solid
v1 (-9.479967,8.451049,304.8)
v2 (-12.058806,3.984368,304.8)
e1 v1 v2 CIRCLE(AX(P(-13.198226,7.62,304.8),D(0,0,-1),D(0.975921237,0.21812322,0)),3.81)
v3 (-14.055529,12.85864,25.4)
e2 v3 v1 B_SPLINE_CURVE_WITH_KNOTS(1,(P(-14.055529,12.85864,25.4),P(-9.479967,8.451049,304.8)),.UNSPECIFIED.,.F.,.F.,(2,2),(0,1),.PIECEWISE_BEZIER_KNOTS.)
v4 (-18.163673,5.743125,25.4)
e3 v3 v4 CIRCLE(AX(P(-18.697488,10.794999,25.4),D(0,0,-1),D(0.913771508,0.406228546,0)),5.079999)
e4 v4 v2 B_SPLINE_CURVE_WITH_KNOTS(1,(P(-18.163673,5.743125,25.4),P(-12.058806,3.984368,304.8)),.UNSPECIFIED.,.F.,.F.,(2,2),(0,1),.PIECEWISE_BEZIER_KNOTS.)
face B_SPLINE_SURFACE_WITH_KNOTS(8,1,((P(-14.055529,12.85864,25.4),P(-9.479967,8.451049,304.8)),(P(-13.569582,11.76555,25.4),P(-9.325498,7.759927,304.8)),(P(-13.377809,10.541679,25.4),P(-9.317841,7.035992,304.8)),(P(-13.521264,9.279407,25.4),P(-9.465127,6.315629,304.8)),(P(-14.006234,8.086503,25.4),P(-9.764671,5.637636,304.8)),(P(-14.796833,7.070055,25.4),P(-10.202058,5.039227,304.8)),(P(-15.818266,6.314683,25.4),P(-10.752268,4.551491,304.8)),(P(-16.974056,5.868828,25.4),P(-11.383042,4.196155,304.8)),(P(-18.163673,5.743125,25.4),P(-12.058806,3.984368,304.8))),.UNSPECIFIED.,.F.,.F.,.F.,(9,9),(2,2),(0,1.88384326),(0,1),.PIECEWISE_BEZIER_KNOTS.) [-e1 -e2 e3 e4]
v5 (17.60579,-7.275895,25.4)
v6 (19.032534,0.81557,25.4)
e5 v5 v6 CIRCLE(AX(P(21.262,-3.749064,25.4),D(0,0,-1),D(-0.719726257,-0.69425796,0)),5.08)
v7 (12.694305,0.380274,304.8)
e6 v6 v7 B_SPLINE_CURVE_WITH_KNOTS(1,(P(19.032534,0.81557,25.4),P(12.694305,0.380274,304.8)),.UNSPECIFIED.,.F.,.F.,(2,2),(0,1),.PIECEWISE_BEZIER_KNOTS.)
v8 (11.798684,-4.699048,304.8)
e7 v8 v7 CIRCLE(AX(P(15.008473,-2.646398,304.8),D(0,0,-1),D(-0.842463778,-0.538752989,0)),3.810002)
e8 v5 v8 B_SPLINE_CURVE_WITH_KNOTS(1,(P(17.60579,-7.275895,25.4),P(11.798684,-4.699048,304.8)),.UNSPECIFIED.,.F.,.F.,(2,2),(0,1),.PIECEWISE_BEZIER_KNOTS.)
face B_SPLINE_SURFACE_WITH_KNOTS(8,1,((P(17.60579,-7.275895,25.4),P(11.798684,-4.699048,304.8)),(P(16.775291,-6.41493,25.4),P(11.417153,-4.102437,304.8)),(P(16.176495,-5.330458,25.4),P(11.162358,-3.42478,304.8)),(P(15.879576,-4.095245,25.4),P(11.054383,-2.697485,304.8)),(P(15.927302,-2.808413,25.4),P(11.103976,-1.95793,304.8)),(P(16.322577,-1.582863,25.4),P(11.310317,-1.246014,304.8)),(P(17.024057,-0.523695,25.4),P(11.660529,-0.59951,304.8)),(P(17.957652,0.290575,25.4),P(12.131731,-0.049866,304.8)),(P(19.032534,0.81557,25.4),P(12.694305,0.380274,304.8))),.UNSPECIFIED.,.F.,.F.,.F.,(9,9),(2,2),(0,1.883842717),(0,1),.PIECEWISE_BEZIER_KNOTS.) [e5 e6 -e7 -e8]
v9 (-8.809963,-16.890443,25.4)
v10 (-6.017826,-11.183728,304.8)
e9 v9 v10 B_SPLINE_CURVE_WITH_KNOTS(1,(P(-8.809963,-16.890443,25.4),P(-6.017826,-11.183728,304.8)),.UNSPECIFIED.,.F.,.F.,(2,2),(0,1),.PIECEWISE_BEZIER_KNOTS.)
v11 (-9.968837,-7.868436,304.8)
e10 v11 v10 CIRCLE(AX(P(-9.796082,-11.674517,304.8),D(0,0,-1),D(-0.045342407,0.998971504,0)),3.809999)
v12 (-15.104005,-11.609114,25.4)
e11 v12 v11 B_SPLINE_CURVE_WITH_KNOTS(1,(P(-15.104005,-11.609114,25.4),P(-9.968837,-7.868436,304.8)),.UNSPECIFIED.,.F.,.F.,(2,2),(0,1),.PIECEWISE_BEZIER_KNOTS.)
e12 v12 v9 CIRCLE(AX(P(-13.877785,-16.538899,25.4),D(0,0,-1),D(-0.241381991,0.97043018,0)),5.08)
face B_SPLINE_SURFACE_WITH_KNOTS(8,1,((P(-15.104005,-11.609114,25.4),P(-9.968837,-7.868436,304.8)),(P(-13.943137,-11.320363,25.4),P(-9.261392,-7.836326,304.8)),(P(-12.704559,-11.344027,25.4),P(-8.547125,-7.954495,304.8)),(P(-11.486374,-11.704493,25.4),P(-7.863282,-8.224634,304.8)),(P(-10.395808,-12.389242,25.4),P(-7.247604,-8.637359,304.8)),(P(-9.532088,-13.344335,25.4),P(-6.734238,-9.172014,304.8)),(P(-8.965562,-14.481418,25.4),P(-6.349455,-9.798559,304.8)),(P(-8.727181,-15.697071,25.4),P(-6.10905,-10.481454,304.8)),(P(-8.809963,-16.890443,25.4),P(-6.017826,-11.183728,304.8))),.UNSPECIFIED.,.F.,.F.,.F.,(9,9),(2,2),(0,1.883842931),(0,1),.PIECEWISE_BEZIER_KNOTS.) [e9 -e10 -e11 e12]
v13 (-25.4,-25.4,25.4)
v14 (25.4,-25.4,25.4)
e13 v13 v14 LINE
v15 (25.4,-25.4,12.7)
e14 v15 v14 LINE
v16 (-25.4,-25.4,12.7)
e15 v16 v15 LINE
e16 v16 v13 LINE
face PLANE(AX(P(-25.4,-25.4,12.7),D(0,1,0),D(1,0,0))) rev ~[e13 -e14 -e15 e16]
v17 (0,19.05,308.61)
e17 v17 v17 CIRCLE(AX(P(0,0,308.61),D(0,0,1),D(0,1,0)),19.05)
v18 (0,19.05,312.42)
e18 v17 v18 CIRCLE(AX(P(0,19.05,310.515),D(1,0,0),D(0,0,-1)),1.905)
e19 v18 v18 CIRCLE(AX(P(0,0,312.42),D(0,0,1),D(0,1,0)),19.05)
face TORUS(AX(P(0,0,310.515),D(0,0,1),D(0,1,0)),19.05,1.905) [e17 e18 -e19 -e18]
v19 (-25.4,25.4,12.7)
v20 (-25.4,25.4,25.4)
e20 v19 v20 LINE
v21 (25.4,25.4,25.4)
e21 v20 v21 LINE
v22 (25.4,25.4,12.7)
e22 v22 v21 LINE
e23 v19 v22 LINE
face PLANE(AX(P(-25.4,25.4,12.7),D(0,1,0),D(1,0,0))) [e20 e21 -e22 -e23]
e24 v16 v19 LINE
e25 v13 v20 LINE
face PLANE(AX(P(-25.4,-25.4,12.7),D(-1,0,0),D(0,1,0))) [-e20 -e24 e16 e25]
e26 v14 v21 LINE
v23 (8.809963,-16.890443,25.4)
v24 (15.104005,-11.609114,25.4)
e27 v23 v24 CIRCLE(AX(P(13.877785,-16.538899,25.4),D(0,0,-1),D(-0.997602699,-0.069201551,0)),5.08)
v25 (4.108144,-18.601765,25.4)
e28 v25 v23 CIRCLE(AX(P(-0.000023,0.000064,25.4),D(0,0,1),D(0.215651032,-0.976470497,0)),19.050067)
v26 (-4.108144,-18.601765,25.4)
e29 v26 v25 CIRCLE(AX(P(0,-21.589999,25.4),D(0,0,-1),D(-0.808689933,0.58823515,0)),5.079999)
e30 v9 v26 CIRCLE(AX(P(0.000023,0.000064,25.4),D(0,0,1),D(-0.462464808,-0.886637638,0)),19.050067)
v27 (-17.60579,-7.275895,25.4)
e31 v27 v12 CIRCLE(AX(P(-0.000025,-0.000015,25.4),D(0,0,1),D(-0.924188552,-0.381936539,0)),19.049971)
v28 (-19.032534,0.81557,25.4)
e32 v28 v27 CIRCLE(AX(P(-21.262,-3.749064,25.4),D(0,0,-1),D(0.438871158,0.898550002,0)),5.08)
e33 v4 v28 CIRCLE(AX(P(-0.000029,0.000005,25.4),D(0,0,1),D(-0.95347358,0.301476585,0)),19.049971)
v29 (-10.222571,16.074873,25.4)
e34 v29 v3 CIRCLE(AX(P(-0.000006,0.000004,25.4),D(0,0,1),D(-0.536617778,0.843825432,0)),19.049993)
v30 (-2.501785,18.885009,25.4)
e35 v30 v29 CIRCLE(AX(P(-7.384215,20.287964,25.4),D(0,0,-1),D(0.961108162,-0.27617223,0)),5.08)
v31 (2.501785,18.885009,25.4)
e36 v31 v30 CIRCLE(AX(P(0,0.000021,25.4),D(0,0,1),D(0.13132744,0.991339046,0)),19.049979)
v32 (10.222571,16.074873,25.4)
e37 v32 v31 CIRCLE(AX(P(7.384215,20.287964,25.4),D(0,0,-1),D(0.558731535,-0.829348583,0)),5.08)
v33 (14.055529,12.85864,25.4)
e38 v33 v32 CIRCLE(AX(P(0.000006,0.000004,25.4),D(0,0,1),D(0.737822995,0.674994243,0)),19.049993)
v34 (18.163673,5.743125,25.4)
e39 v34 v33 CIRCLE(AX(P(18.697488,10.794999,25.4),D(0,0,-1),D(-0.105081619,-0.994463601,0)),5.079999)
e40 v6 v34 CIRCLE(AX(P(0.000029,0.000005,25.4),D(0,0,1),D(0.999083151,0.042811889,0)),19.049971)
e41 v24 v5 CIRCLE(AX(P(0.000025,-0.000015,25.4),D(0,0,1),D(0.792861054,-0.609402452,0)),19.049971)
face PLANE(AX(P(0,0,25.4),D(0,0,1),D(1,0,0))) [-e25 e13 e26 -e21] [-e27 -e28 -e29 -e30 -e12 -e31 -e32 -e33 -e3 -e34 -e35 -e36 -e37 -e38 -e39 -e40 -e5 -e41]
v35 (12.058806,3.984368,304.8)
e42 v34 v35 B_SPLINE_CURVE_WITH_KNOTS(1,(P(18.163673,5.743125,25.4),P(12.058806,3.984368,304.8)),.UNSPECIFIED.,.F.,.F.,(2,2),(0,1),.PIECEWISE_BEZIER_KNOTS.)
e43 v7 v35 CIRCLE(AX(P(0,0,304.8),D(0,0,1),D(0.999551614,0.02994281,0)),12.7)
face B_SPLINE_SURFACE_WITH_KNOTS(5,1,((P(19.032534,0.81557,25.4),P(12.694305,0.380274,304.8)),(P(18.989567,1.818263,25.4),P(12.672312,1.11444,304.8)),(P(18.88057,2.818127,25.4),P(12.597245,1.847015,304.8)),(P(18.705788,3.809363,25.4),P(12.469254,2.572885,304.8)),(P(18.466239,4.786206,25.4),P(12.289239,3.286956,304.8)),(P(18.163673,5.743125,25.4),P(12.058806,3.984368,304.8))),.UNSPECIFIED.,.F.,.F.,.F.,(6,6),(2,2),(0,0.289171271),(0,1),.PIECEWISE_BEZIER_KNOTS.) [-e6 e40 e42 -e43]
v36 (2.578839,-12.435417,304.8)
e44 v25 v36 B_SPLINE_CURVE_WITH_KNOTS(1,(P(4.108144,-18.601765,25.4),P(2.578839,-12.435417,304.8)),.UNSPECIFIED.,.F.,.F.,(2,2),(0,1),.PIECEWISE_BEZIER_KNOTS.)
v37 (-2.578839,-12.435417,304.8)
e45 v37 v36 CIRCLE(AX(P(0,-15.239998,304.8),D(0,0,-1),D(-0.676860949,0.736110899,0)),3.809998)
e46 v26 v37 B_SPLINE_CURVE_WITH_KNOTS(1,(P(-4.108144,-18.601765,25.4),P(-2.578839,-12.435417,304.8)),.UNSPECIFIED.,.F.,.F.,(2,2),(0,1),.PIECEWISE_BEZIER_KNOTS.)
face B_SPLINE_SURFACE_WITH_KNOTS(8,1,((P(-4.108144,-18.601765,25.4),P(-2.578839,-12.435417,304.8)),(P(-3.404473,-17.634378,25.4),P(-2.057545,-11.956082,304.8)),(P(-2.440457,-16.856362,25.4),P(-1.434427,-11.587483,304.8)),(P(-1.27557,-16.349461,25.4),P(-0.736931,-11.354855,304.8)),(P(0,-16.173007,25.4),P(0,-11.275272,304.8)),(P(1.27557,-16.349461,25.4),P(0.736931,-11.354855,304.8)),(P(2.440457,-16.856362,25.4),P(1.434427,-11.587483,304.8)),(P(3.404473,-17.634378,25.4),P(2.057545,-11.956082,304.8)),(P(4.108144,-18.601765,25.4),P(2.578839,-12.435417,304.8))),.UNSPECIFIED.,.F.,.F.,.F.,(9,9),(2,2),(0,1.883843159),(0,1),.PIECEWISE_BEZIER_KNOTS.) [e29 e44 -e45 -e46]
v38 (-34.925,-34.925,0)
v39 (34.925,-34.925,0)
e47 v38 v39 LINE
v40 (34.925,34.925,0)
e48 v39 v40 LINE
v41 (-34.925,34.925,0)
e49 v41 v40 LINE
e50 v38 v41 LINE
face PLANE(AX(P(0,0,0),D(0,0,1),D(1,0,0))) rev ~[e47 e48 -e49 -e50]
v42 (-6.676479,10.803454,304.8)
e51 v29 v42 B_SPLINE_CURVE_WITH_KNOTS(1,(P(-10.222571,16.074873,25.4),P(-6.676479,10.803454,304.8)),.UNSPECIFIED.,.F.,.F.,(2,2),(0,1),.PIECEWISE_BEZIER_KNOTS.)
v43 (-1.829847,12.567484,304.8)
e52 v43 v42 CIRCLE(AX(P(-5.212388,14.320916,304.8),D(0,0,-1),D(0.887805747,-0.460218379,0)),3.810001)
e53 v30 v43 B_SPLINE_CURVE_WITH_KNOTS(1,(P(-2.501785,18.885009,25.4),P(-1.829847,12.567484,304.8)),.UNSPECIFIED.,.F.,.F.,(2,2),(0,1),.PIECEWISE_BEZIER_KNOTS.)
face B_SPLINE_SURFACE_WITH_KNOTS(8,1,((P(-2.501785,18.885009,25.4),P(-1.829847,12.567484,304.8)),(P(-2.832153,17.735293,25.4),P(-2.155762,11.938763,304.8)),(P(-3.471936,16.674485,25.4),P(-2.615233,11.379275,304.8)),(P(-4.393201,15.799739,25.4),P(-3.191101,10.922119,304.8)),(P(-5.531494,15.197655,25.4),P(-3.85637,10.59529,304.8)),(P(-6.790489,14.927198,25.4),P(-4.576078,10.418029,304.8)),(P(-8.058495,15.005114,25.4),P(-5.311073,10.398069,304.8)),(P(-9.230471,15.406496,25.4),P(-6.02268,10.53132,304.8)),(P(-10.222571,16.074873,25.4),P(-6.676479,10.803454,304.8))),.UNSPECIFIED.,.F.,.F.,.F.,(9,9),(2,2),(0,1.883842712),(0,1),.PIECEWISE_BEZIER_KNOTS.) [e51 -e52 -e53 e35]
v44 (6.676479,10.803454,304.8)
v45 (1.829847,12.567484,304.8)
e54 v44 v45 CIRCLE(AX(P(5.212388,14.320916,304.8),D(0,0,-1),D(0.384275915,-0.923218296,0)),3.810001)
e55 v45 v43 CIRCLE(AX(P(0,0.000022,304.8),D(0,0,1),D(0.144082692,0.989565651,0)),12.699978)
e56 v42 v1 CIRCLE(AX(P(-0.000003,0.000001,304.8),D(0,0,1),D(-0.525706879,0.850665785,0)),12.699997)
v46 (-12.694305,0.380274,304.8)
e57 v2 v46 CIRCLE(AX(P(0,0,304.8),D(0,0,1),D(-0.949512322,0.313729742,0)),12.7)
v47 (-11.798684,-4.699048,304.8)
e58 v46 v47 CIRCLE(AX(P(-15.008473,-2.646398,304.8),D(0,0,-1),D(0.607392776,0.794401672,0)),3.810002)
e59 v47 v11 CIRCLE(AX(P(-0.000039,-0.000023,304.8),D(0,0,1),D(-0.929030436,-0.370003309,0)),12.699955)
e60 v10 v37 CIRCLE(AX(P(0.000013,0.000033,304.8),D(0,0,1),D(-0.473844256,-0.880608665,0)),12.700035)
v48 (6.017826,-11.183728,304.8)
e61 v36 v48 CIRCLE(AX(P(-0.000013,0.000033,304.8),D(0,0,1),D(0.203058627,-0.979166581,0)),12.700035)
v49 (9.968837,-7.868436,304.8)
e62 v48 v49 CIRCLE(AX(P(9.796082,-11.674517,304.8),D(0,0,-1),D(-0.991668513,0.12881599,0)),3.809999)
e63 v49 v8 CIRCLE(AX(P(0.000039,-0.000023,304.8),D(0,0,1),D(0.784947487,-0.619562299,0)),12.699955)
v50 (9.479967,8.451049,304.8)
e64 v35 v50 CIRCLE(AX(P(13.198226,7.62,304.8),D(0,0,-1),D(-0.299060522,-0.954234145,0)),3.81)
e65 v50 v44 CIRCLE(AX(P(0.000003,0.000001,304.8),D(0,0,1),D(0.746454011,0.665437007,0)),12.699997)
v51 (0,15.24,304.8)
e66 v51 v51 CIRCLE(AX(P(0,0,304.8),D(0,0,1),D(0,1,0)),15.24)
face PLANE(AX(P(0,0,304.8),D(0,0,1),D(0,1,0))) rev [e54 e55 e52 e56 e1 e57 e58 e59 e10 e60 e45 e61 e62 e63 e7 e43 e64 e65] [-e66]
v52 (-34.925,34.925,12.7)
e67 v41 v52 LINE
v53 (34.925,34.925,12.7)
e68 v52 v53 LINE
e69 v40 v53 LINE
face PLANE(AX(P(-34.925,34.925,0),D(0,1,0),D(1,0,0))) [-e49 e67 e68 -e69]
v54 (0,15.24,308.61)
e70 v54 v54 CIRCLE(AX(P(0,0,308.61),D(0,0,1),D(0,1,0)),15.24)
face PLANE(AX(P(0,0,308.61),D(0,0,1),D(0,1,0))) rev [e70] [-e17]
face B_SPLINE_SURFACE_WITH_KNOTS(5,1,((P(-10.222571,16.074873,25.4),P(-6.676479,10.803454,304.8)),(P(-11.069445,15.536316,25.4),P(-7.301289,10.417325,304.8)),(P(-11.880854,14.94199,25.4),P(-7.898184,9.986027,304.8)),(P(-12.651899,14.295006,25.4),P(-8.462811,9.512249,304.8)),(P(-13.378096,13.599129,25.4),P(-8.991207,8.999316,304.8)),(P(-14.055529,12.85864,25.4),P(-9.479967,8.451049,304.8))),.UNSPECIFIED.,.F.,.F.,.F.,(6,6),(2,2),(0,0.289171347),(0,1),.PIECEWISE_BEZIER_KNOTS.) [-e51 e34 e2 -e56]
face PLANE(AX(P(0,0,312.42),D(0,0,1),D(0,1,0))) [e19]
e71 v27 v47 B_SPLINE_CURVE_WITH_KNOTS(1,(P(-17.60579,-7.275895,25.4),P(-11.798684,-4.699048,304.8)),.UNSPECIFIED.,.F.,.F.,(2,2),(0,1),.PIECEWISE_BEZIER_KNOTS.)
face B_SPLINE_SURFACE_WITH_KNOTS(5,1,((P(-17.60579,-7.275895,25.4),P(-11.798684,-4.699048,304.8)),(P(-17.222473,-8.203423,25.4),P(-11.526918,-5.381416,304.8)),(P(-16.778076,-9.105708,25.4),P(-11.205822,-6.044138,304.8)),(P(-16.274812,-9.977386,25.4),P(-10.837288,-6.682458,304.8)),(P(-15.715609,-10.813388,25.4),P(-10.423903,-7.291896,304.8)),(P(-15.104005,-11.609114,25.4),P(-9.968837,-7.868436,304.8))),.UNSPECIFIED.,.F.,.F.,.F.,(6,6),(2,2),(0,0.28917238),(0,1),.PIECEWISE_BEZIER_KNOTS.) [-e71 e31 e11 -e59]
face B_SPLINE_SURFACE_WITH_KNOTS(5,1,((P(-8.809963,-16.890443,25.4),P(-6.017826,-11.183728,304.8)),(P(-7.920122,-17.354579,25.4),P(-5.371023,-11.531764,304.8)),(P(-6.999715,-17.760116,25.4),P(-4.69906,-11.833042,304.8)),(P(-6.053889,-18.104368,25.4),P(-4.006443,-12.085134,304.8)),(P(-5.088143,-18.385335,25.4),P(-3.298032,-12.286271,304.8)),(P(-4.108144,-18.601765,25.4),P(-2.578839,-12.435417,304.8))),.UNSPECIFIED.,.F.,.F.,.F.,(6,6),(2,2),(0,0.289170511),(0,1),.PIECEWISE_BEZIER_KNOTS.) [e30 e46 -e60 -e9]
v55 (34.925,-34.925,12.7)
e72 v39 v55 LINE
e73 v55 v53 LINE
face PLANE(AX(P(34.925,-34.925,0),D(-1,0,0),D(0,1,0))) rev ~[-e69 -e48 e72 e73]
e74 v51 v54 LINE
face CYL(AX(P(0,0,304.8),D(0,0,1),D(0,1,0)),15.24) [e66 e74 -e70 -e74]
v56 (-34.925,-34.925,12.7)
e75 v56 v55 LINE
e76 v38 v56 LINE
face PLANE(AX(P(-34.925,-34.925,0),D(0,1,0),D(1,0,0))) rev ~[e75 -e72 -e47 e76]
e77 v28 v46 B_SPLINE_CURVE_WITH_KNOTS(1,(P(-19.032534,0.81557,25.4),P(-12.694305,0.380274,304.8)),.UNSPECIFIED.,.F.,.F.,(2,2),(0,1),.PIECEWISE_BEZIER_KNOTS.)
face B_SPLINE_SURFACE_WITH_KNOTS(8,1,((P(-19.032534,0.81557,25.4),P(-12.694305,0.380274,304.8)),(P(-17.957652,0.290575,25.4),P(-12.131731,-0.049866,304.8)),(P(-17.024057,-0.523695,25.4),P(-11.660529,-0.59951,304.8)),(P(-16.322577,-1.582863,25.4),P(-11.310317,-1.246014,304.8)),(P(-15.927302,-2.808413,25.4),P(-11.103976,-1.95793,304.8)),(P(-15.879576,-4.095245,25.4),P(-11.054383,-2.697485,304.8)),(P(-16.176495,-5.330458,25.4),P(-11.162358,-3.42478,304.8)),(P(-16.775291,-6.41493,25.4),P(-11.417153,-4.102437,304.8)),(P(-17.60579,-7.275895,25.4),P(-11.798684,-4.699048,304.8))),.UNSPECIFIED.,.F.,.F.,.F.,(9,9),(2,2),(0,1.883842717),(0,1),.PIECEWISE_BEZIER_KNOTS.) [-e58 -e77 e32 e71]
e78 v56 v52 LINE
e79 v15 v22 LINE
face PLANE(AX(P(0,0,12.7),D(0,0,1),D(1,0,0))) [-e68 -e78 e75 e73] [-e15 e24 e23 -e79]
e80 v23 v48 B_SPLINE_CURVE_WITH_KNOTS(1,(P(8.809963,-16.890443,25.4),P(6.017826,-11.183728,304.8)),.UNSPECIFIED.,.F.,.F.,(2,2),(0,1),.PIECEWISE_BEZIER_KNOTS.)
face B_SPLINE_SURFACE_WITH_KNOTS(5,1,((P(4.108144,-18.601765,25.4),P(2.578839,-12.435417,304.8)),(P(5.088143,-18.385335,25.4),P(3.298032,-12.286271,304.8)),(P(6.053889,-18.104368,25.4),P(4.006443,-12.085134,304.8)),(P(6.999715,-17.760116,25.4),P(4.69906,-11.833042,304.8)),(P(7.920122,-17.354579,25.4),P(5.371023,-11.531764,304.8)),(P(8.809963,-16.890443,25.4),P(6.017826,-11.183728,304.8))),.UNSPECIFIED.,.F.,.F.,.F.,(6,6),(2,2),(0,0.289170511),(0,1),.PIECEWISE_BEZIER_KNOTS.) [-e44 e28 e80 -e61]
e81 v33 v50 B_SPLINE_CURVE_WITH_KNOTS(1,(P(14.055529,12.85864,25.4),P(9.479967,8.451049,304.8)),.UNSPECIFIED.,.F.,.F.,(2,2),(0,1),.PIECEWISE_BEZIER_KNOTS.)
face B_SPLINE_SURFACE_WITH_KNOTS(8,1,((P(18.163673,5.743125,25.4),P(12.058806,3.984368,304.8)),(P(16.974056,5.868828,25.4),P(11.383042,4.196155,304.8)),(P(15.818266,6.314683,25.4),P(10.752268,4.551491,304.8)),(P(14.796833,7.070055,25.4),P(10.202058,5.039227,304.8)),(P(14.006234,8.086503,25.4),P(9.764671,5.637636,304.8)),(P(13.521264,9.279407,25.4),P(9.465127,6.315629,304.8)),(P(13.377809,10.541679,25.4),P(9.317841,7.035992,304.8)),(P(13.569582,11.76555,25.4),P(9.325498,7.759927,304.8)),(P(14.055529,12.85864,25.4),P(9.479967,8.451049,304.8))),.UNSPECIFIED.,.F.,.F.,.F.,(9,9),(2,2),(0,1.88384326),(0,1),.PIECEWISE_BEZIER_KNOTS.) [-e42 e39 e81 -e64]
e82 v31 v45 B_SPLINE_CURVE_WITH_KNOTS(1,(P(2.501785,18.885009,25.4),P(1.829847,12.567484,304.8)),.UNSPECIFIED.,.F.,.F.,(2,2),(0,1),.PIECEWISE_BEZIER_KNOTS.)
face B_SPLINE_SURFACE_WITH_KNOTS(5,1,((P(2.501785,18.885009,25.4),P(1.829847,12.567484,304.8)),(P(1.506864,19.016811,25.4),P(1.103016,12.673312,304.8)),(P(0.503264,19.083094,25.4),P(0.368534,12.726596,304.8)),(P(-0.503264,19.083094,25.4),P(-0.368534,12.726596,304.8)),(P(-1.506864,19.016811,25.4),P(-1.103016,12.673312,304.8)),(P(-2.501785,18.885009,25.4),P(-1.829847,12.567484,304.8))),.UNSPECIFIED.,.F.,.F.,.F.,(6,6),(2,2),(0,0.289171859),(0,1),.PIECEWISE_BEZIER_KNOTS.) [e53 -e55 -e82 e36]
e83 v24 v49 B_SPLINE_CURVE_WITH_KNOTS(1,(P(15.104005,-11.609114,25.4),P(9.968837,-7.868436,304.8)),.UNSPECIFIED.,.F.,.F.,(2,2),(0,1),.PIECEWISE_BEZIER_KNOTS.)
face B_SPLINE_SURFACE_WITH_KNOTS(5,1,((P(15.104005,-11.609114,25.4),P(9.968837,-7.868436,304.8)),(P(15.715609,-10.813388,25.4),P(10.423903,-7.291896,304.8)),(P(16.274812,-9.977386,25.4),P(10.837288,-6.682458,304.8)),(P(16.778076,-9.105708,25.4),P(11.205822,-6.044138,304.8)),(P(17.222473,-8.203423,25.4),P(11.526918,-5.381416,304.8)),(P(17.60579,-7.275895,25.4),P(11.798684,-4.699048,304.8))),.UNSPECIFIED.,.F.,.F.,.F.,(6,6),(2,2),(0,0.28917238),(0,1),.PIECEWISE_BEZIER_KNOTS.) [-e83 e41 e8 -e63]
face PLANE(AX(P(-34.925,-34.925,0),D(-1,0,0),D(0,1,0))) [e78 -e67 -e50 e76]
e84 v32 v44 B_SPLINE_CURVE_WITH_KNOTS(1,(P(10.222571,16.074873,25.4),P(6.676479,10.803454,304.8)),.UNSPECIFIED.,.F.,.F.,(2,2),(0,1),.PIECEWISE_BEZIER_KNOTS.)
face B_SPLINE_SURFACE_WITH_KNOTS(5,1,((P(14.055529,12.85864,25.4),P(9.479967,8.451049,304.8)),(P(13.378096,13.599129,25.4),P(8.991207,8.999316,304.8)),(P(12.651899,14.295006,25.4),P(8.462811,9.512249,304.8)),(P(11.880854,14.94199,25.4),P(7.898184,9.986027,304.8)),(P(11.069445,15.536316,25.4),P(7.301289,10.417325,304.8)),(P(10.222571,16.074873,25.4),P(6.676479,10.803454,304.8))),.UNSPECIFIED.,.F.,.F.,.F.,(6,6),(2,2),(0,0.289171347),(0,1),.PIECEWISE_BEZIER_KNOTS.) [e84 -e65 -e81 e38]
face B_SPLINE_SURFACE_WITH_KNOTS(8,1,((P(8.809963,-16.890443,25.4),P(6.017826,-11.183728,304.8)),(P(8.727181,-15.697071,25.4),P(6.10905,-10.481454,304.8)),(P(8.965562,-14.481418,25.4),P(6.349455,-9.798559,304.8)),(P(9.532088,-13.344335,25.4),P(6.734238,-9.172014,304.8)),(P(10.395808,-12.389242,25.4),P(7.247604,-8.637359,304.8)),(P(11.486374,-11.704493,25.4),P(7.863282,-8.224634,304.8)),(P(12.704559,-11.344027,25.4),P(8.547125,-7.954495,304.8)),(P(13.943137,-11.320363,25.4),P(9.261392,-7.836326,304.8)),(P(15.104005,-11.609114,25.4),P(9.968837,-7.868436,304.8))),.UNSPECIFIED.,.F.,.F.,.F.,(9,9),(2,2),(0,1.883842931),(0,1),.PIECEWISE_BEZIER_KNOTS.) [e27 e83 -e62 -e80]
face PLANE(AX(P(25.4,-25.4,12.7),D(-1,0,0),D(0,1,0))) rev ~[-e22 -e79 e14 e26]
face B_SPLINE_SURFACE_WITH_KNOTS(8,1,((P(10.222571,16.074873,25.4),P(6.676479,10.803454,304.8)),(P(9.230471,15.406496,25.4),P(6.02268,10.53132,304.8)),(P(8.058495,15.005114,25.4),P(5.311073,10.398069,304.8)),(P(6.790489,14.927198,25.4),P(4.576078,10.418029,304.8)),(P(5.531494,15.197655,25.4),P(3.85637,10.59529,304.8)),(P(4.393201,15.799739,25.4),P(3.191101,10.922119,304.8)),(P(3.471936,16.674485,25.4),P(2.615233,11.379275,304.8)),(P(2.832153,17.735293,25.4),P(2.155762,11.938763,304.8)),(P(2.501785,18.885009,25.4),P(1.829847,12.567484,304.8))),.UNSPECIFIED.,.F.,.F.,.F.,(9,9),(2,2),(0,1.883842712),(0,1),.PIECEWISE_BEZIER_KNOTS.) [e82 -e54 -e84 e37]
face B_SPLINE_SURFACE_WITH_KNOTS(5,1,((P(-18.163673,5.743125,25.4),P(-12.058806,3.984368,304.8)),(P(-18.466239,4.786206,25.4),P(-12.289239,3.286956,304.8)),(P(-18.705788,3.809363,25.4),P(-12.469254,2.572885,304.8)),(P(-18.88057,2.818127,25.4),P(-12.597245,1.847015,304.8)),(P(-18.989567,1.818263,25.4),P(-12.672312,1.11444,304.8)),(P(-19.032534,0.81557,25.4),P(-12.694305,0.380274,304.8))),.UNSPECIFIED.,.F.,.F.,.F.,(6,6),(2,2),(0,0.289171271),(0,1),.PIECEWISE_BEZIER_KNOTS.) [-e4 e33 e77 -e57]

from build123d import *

# Parameters (mm, degrees)
F0_W     = 69.85
F0_H     = 69.85
F1_DEPTH = 12.7
F2_W     = 50.8
F2_H     = 50.8
F3_DEPTH = 12.7
F8_W     = 3.81
F8_H     = 3.81


with BuildPart() as f1:
    # F0 (on Top) → F1 (new body)
    with BuildSketch(Plane.XY):
        Rectangle(F0_W, F0_H)
    extrude(amount=F1_DEPTH)

    # F2 (on face) → F3 (join)
    with BuildSketch(Plane.XY.offset(12.7)):
        Rectangle(F2_W, F2_H)
    extrude(amount=F3_DEPTH)

    # F5 (on face) → F7 section 0
    with BuildSketch(Plane.XY.offset(25.4)):
        with BuildLine():
            ThreePointArc((17.60579, -7.275895), (16.259176, -2.866931), (19.032534, 0.81557))
            ThreePointArc((19.032534, 0.81557), (18.760588, 3.307998), (18.163673, 5.743125))
            ThreePointArc((18.163673, 5.743125), (14.298079, 8.255), (14.055529, 12.85864))
            ThreePointArc((14.055529, 12.85864), (12.245104, 14.593147), (10.222571, 16.074873))
            ThreePointArc((10.222571, 16.074873), (5.646753, 15.514325), (2.501785, 18.885009))
            ThreePointArc((2.501785, 18.885009), (0, 19.05), (-2.501785, 18.885009))
            ThreePointArc((-2.501785, 18.885009), (-5.646753, 15.514325), (-10.222571, 16.074873))
            ThreePointArc((-10.222571, 16.074873), (-12.245104, 14.593147), (-14.055529, 12.85864))
            ThreePointArc((-14.055529, 12.85864), (-14.298079, 8.255), (-18.163673, 5.743125))
            ThreePointArc((-18.163673, 5.743125), (-18.760588, 3.307998), (-19.032534, 0.81557))
            ThreePointArc((-19.032534, 0.81557), (-16.259176, -2.866931), (-17.60579, -7.275895))
            ThreePointArc((-17.60579, -7.275895), (-16.497784, -9.525), (-15.104005, -11.609114))
            ThreePointArc((-15.104005, -11.609114), (-10.612423, -12.647394), (-8.809963, -16.890443))
            ThreePointArc((-8.809963, -16.890443), (-6.515484, -17.901144), (-4.108144, -18.601765))
            ThreePointArc((-4.108144, -18.601765), (0, -16.51), (4.108144, -18.601765))
            ThreePointArc((4.108144, -18.601765), (6.515484, -17.901144), (8.809963, -16.890443))
            ThreePointArc((8.809963, -16.890443), (10.612423, -12.647394), (15.104005, -11.609114))
            ThreePointArc((15.104005, -11.609114), (16.497784, -9.525), (17.60579, -7.275895))
        make_face()
    # F6 (on offset) → F7 section 1
    with BuildSketch(Plane.XY.offset(304.8)):
        with BuildLine():
            ThreePointArc((11.798684, -4.699048), (11.256353, -1.984799), (12.694305, 0.380274))
            ThreePointArc((12.694305, 0.380274), (12.507058, 2.205332), (12.058806, 3.984368))
            ThreePointArc((12.058806, 3.984368), (9.89867, 5.715), (9.479967, 8.451049))
            ThreePointArc((9.479967, 8.451049), (8.163403, 9.728764), (6.676479, 10.803454))
            ThreePointArc((6.676479, 10.803454), (3.90929, 10.740687), (1.829847, 12.567484))
            ThreePointArc((1.829847, 12.567484), (0, 12.7), (-1.829847, 12.567484))
            ThreePointArc((-1.829847, 12.567484), (-3.90929, 10.740687), (-6.676479, 10.803454))
            ThreePointArc((-6.676479, 10.803454), (-8.163403, 9.728764), (-9.479967, 8.451049))
            ThreePointArc((-9.479967, 8.451049), (-9.89867, 5.715), (-12.058806, 3.984368))
            ThreePointArc((-12.058806, 3.984368), (-12.507058, 2.205332), (-12.694305, 0.380274))
            ThreePointArc((-12.694305, 0.380274), (-11.256353, -1.984799), (-11.798684, -4.699048))
            ThreePointArc((-11.798684, -4.699048), (-10.998523, -6.35), (-9.968837, -7.868436))
            ThreePointArc((-9.968837, -7.868436), (-7.347062, -8.755888), (-6.017826, -11.183728))
            ThreePointArc((-6.017826, -11.183728), (-4.343656, -11.934096), (-2.578839, -12.435417))
            ThreePointArc((-2.578839, -12.435417), (0, -11.43), (2.578839, -12.435417))
            ThreePointArc((2.578839, -12.435417), (4.343656, -11.934096), (6.017826, -11.183728))
            ThreePointArc((6.017826, -11.183728), (7.347062, -8.755888), (9.968837, -7.868436))
            ThreePointArc((9.968837, -7.868436), (10.998523, -6.35), (11.798684, -4.699048))
        make_face()
    loft()

    # F8 (on Right) → F9 (revolve)
    with BuildSketch(Plane.YZ):
        with Locations((17.145, 310.515)):
            Rectangle(F8_W, F8_H)
        with BuildLine():
            Line((19.05, 312.42), (19.05, 308.61))
            ThreePointArc((19.05, 308.61), (20.955, 310.515), (19.05, 312.42))
        make_face()
        Polygon((0, 312.42), (0, 304.8), (15.24, 304.8), (15.24, 308.61), (15.24, 312.42), align=None)
    revolve(axis=Axis((0, 0, 308.61), (0, 0, 1)))


solid = f1.part
